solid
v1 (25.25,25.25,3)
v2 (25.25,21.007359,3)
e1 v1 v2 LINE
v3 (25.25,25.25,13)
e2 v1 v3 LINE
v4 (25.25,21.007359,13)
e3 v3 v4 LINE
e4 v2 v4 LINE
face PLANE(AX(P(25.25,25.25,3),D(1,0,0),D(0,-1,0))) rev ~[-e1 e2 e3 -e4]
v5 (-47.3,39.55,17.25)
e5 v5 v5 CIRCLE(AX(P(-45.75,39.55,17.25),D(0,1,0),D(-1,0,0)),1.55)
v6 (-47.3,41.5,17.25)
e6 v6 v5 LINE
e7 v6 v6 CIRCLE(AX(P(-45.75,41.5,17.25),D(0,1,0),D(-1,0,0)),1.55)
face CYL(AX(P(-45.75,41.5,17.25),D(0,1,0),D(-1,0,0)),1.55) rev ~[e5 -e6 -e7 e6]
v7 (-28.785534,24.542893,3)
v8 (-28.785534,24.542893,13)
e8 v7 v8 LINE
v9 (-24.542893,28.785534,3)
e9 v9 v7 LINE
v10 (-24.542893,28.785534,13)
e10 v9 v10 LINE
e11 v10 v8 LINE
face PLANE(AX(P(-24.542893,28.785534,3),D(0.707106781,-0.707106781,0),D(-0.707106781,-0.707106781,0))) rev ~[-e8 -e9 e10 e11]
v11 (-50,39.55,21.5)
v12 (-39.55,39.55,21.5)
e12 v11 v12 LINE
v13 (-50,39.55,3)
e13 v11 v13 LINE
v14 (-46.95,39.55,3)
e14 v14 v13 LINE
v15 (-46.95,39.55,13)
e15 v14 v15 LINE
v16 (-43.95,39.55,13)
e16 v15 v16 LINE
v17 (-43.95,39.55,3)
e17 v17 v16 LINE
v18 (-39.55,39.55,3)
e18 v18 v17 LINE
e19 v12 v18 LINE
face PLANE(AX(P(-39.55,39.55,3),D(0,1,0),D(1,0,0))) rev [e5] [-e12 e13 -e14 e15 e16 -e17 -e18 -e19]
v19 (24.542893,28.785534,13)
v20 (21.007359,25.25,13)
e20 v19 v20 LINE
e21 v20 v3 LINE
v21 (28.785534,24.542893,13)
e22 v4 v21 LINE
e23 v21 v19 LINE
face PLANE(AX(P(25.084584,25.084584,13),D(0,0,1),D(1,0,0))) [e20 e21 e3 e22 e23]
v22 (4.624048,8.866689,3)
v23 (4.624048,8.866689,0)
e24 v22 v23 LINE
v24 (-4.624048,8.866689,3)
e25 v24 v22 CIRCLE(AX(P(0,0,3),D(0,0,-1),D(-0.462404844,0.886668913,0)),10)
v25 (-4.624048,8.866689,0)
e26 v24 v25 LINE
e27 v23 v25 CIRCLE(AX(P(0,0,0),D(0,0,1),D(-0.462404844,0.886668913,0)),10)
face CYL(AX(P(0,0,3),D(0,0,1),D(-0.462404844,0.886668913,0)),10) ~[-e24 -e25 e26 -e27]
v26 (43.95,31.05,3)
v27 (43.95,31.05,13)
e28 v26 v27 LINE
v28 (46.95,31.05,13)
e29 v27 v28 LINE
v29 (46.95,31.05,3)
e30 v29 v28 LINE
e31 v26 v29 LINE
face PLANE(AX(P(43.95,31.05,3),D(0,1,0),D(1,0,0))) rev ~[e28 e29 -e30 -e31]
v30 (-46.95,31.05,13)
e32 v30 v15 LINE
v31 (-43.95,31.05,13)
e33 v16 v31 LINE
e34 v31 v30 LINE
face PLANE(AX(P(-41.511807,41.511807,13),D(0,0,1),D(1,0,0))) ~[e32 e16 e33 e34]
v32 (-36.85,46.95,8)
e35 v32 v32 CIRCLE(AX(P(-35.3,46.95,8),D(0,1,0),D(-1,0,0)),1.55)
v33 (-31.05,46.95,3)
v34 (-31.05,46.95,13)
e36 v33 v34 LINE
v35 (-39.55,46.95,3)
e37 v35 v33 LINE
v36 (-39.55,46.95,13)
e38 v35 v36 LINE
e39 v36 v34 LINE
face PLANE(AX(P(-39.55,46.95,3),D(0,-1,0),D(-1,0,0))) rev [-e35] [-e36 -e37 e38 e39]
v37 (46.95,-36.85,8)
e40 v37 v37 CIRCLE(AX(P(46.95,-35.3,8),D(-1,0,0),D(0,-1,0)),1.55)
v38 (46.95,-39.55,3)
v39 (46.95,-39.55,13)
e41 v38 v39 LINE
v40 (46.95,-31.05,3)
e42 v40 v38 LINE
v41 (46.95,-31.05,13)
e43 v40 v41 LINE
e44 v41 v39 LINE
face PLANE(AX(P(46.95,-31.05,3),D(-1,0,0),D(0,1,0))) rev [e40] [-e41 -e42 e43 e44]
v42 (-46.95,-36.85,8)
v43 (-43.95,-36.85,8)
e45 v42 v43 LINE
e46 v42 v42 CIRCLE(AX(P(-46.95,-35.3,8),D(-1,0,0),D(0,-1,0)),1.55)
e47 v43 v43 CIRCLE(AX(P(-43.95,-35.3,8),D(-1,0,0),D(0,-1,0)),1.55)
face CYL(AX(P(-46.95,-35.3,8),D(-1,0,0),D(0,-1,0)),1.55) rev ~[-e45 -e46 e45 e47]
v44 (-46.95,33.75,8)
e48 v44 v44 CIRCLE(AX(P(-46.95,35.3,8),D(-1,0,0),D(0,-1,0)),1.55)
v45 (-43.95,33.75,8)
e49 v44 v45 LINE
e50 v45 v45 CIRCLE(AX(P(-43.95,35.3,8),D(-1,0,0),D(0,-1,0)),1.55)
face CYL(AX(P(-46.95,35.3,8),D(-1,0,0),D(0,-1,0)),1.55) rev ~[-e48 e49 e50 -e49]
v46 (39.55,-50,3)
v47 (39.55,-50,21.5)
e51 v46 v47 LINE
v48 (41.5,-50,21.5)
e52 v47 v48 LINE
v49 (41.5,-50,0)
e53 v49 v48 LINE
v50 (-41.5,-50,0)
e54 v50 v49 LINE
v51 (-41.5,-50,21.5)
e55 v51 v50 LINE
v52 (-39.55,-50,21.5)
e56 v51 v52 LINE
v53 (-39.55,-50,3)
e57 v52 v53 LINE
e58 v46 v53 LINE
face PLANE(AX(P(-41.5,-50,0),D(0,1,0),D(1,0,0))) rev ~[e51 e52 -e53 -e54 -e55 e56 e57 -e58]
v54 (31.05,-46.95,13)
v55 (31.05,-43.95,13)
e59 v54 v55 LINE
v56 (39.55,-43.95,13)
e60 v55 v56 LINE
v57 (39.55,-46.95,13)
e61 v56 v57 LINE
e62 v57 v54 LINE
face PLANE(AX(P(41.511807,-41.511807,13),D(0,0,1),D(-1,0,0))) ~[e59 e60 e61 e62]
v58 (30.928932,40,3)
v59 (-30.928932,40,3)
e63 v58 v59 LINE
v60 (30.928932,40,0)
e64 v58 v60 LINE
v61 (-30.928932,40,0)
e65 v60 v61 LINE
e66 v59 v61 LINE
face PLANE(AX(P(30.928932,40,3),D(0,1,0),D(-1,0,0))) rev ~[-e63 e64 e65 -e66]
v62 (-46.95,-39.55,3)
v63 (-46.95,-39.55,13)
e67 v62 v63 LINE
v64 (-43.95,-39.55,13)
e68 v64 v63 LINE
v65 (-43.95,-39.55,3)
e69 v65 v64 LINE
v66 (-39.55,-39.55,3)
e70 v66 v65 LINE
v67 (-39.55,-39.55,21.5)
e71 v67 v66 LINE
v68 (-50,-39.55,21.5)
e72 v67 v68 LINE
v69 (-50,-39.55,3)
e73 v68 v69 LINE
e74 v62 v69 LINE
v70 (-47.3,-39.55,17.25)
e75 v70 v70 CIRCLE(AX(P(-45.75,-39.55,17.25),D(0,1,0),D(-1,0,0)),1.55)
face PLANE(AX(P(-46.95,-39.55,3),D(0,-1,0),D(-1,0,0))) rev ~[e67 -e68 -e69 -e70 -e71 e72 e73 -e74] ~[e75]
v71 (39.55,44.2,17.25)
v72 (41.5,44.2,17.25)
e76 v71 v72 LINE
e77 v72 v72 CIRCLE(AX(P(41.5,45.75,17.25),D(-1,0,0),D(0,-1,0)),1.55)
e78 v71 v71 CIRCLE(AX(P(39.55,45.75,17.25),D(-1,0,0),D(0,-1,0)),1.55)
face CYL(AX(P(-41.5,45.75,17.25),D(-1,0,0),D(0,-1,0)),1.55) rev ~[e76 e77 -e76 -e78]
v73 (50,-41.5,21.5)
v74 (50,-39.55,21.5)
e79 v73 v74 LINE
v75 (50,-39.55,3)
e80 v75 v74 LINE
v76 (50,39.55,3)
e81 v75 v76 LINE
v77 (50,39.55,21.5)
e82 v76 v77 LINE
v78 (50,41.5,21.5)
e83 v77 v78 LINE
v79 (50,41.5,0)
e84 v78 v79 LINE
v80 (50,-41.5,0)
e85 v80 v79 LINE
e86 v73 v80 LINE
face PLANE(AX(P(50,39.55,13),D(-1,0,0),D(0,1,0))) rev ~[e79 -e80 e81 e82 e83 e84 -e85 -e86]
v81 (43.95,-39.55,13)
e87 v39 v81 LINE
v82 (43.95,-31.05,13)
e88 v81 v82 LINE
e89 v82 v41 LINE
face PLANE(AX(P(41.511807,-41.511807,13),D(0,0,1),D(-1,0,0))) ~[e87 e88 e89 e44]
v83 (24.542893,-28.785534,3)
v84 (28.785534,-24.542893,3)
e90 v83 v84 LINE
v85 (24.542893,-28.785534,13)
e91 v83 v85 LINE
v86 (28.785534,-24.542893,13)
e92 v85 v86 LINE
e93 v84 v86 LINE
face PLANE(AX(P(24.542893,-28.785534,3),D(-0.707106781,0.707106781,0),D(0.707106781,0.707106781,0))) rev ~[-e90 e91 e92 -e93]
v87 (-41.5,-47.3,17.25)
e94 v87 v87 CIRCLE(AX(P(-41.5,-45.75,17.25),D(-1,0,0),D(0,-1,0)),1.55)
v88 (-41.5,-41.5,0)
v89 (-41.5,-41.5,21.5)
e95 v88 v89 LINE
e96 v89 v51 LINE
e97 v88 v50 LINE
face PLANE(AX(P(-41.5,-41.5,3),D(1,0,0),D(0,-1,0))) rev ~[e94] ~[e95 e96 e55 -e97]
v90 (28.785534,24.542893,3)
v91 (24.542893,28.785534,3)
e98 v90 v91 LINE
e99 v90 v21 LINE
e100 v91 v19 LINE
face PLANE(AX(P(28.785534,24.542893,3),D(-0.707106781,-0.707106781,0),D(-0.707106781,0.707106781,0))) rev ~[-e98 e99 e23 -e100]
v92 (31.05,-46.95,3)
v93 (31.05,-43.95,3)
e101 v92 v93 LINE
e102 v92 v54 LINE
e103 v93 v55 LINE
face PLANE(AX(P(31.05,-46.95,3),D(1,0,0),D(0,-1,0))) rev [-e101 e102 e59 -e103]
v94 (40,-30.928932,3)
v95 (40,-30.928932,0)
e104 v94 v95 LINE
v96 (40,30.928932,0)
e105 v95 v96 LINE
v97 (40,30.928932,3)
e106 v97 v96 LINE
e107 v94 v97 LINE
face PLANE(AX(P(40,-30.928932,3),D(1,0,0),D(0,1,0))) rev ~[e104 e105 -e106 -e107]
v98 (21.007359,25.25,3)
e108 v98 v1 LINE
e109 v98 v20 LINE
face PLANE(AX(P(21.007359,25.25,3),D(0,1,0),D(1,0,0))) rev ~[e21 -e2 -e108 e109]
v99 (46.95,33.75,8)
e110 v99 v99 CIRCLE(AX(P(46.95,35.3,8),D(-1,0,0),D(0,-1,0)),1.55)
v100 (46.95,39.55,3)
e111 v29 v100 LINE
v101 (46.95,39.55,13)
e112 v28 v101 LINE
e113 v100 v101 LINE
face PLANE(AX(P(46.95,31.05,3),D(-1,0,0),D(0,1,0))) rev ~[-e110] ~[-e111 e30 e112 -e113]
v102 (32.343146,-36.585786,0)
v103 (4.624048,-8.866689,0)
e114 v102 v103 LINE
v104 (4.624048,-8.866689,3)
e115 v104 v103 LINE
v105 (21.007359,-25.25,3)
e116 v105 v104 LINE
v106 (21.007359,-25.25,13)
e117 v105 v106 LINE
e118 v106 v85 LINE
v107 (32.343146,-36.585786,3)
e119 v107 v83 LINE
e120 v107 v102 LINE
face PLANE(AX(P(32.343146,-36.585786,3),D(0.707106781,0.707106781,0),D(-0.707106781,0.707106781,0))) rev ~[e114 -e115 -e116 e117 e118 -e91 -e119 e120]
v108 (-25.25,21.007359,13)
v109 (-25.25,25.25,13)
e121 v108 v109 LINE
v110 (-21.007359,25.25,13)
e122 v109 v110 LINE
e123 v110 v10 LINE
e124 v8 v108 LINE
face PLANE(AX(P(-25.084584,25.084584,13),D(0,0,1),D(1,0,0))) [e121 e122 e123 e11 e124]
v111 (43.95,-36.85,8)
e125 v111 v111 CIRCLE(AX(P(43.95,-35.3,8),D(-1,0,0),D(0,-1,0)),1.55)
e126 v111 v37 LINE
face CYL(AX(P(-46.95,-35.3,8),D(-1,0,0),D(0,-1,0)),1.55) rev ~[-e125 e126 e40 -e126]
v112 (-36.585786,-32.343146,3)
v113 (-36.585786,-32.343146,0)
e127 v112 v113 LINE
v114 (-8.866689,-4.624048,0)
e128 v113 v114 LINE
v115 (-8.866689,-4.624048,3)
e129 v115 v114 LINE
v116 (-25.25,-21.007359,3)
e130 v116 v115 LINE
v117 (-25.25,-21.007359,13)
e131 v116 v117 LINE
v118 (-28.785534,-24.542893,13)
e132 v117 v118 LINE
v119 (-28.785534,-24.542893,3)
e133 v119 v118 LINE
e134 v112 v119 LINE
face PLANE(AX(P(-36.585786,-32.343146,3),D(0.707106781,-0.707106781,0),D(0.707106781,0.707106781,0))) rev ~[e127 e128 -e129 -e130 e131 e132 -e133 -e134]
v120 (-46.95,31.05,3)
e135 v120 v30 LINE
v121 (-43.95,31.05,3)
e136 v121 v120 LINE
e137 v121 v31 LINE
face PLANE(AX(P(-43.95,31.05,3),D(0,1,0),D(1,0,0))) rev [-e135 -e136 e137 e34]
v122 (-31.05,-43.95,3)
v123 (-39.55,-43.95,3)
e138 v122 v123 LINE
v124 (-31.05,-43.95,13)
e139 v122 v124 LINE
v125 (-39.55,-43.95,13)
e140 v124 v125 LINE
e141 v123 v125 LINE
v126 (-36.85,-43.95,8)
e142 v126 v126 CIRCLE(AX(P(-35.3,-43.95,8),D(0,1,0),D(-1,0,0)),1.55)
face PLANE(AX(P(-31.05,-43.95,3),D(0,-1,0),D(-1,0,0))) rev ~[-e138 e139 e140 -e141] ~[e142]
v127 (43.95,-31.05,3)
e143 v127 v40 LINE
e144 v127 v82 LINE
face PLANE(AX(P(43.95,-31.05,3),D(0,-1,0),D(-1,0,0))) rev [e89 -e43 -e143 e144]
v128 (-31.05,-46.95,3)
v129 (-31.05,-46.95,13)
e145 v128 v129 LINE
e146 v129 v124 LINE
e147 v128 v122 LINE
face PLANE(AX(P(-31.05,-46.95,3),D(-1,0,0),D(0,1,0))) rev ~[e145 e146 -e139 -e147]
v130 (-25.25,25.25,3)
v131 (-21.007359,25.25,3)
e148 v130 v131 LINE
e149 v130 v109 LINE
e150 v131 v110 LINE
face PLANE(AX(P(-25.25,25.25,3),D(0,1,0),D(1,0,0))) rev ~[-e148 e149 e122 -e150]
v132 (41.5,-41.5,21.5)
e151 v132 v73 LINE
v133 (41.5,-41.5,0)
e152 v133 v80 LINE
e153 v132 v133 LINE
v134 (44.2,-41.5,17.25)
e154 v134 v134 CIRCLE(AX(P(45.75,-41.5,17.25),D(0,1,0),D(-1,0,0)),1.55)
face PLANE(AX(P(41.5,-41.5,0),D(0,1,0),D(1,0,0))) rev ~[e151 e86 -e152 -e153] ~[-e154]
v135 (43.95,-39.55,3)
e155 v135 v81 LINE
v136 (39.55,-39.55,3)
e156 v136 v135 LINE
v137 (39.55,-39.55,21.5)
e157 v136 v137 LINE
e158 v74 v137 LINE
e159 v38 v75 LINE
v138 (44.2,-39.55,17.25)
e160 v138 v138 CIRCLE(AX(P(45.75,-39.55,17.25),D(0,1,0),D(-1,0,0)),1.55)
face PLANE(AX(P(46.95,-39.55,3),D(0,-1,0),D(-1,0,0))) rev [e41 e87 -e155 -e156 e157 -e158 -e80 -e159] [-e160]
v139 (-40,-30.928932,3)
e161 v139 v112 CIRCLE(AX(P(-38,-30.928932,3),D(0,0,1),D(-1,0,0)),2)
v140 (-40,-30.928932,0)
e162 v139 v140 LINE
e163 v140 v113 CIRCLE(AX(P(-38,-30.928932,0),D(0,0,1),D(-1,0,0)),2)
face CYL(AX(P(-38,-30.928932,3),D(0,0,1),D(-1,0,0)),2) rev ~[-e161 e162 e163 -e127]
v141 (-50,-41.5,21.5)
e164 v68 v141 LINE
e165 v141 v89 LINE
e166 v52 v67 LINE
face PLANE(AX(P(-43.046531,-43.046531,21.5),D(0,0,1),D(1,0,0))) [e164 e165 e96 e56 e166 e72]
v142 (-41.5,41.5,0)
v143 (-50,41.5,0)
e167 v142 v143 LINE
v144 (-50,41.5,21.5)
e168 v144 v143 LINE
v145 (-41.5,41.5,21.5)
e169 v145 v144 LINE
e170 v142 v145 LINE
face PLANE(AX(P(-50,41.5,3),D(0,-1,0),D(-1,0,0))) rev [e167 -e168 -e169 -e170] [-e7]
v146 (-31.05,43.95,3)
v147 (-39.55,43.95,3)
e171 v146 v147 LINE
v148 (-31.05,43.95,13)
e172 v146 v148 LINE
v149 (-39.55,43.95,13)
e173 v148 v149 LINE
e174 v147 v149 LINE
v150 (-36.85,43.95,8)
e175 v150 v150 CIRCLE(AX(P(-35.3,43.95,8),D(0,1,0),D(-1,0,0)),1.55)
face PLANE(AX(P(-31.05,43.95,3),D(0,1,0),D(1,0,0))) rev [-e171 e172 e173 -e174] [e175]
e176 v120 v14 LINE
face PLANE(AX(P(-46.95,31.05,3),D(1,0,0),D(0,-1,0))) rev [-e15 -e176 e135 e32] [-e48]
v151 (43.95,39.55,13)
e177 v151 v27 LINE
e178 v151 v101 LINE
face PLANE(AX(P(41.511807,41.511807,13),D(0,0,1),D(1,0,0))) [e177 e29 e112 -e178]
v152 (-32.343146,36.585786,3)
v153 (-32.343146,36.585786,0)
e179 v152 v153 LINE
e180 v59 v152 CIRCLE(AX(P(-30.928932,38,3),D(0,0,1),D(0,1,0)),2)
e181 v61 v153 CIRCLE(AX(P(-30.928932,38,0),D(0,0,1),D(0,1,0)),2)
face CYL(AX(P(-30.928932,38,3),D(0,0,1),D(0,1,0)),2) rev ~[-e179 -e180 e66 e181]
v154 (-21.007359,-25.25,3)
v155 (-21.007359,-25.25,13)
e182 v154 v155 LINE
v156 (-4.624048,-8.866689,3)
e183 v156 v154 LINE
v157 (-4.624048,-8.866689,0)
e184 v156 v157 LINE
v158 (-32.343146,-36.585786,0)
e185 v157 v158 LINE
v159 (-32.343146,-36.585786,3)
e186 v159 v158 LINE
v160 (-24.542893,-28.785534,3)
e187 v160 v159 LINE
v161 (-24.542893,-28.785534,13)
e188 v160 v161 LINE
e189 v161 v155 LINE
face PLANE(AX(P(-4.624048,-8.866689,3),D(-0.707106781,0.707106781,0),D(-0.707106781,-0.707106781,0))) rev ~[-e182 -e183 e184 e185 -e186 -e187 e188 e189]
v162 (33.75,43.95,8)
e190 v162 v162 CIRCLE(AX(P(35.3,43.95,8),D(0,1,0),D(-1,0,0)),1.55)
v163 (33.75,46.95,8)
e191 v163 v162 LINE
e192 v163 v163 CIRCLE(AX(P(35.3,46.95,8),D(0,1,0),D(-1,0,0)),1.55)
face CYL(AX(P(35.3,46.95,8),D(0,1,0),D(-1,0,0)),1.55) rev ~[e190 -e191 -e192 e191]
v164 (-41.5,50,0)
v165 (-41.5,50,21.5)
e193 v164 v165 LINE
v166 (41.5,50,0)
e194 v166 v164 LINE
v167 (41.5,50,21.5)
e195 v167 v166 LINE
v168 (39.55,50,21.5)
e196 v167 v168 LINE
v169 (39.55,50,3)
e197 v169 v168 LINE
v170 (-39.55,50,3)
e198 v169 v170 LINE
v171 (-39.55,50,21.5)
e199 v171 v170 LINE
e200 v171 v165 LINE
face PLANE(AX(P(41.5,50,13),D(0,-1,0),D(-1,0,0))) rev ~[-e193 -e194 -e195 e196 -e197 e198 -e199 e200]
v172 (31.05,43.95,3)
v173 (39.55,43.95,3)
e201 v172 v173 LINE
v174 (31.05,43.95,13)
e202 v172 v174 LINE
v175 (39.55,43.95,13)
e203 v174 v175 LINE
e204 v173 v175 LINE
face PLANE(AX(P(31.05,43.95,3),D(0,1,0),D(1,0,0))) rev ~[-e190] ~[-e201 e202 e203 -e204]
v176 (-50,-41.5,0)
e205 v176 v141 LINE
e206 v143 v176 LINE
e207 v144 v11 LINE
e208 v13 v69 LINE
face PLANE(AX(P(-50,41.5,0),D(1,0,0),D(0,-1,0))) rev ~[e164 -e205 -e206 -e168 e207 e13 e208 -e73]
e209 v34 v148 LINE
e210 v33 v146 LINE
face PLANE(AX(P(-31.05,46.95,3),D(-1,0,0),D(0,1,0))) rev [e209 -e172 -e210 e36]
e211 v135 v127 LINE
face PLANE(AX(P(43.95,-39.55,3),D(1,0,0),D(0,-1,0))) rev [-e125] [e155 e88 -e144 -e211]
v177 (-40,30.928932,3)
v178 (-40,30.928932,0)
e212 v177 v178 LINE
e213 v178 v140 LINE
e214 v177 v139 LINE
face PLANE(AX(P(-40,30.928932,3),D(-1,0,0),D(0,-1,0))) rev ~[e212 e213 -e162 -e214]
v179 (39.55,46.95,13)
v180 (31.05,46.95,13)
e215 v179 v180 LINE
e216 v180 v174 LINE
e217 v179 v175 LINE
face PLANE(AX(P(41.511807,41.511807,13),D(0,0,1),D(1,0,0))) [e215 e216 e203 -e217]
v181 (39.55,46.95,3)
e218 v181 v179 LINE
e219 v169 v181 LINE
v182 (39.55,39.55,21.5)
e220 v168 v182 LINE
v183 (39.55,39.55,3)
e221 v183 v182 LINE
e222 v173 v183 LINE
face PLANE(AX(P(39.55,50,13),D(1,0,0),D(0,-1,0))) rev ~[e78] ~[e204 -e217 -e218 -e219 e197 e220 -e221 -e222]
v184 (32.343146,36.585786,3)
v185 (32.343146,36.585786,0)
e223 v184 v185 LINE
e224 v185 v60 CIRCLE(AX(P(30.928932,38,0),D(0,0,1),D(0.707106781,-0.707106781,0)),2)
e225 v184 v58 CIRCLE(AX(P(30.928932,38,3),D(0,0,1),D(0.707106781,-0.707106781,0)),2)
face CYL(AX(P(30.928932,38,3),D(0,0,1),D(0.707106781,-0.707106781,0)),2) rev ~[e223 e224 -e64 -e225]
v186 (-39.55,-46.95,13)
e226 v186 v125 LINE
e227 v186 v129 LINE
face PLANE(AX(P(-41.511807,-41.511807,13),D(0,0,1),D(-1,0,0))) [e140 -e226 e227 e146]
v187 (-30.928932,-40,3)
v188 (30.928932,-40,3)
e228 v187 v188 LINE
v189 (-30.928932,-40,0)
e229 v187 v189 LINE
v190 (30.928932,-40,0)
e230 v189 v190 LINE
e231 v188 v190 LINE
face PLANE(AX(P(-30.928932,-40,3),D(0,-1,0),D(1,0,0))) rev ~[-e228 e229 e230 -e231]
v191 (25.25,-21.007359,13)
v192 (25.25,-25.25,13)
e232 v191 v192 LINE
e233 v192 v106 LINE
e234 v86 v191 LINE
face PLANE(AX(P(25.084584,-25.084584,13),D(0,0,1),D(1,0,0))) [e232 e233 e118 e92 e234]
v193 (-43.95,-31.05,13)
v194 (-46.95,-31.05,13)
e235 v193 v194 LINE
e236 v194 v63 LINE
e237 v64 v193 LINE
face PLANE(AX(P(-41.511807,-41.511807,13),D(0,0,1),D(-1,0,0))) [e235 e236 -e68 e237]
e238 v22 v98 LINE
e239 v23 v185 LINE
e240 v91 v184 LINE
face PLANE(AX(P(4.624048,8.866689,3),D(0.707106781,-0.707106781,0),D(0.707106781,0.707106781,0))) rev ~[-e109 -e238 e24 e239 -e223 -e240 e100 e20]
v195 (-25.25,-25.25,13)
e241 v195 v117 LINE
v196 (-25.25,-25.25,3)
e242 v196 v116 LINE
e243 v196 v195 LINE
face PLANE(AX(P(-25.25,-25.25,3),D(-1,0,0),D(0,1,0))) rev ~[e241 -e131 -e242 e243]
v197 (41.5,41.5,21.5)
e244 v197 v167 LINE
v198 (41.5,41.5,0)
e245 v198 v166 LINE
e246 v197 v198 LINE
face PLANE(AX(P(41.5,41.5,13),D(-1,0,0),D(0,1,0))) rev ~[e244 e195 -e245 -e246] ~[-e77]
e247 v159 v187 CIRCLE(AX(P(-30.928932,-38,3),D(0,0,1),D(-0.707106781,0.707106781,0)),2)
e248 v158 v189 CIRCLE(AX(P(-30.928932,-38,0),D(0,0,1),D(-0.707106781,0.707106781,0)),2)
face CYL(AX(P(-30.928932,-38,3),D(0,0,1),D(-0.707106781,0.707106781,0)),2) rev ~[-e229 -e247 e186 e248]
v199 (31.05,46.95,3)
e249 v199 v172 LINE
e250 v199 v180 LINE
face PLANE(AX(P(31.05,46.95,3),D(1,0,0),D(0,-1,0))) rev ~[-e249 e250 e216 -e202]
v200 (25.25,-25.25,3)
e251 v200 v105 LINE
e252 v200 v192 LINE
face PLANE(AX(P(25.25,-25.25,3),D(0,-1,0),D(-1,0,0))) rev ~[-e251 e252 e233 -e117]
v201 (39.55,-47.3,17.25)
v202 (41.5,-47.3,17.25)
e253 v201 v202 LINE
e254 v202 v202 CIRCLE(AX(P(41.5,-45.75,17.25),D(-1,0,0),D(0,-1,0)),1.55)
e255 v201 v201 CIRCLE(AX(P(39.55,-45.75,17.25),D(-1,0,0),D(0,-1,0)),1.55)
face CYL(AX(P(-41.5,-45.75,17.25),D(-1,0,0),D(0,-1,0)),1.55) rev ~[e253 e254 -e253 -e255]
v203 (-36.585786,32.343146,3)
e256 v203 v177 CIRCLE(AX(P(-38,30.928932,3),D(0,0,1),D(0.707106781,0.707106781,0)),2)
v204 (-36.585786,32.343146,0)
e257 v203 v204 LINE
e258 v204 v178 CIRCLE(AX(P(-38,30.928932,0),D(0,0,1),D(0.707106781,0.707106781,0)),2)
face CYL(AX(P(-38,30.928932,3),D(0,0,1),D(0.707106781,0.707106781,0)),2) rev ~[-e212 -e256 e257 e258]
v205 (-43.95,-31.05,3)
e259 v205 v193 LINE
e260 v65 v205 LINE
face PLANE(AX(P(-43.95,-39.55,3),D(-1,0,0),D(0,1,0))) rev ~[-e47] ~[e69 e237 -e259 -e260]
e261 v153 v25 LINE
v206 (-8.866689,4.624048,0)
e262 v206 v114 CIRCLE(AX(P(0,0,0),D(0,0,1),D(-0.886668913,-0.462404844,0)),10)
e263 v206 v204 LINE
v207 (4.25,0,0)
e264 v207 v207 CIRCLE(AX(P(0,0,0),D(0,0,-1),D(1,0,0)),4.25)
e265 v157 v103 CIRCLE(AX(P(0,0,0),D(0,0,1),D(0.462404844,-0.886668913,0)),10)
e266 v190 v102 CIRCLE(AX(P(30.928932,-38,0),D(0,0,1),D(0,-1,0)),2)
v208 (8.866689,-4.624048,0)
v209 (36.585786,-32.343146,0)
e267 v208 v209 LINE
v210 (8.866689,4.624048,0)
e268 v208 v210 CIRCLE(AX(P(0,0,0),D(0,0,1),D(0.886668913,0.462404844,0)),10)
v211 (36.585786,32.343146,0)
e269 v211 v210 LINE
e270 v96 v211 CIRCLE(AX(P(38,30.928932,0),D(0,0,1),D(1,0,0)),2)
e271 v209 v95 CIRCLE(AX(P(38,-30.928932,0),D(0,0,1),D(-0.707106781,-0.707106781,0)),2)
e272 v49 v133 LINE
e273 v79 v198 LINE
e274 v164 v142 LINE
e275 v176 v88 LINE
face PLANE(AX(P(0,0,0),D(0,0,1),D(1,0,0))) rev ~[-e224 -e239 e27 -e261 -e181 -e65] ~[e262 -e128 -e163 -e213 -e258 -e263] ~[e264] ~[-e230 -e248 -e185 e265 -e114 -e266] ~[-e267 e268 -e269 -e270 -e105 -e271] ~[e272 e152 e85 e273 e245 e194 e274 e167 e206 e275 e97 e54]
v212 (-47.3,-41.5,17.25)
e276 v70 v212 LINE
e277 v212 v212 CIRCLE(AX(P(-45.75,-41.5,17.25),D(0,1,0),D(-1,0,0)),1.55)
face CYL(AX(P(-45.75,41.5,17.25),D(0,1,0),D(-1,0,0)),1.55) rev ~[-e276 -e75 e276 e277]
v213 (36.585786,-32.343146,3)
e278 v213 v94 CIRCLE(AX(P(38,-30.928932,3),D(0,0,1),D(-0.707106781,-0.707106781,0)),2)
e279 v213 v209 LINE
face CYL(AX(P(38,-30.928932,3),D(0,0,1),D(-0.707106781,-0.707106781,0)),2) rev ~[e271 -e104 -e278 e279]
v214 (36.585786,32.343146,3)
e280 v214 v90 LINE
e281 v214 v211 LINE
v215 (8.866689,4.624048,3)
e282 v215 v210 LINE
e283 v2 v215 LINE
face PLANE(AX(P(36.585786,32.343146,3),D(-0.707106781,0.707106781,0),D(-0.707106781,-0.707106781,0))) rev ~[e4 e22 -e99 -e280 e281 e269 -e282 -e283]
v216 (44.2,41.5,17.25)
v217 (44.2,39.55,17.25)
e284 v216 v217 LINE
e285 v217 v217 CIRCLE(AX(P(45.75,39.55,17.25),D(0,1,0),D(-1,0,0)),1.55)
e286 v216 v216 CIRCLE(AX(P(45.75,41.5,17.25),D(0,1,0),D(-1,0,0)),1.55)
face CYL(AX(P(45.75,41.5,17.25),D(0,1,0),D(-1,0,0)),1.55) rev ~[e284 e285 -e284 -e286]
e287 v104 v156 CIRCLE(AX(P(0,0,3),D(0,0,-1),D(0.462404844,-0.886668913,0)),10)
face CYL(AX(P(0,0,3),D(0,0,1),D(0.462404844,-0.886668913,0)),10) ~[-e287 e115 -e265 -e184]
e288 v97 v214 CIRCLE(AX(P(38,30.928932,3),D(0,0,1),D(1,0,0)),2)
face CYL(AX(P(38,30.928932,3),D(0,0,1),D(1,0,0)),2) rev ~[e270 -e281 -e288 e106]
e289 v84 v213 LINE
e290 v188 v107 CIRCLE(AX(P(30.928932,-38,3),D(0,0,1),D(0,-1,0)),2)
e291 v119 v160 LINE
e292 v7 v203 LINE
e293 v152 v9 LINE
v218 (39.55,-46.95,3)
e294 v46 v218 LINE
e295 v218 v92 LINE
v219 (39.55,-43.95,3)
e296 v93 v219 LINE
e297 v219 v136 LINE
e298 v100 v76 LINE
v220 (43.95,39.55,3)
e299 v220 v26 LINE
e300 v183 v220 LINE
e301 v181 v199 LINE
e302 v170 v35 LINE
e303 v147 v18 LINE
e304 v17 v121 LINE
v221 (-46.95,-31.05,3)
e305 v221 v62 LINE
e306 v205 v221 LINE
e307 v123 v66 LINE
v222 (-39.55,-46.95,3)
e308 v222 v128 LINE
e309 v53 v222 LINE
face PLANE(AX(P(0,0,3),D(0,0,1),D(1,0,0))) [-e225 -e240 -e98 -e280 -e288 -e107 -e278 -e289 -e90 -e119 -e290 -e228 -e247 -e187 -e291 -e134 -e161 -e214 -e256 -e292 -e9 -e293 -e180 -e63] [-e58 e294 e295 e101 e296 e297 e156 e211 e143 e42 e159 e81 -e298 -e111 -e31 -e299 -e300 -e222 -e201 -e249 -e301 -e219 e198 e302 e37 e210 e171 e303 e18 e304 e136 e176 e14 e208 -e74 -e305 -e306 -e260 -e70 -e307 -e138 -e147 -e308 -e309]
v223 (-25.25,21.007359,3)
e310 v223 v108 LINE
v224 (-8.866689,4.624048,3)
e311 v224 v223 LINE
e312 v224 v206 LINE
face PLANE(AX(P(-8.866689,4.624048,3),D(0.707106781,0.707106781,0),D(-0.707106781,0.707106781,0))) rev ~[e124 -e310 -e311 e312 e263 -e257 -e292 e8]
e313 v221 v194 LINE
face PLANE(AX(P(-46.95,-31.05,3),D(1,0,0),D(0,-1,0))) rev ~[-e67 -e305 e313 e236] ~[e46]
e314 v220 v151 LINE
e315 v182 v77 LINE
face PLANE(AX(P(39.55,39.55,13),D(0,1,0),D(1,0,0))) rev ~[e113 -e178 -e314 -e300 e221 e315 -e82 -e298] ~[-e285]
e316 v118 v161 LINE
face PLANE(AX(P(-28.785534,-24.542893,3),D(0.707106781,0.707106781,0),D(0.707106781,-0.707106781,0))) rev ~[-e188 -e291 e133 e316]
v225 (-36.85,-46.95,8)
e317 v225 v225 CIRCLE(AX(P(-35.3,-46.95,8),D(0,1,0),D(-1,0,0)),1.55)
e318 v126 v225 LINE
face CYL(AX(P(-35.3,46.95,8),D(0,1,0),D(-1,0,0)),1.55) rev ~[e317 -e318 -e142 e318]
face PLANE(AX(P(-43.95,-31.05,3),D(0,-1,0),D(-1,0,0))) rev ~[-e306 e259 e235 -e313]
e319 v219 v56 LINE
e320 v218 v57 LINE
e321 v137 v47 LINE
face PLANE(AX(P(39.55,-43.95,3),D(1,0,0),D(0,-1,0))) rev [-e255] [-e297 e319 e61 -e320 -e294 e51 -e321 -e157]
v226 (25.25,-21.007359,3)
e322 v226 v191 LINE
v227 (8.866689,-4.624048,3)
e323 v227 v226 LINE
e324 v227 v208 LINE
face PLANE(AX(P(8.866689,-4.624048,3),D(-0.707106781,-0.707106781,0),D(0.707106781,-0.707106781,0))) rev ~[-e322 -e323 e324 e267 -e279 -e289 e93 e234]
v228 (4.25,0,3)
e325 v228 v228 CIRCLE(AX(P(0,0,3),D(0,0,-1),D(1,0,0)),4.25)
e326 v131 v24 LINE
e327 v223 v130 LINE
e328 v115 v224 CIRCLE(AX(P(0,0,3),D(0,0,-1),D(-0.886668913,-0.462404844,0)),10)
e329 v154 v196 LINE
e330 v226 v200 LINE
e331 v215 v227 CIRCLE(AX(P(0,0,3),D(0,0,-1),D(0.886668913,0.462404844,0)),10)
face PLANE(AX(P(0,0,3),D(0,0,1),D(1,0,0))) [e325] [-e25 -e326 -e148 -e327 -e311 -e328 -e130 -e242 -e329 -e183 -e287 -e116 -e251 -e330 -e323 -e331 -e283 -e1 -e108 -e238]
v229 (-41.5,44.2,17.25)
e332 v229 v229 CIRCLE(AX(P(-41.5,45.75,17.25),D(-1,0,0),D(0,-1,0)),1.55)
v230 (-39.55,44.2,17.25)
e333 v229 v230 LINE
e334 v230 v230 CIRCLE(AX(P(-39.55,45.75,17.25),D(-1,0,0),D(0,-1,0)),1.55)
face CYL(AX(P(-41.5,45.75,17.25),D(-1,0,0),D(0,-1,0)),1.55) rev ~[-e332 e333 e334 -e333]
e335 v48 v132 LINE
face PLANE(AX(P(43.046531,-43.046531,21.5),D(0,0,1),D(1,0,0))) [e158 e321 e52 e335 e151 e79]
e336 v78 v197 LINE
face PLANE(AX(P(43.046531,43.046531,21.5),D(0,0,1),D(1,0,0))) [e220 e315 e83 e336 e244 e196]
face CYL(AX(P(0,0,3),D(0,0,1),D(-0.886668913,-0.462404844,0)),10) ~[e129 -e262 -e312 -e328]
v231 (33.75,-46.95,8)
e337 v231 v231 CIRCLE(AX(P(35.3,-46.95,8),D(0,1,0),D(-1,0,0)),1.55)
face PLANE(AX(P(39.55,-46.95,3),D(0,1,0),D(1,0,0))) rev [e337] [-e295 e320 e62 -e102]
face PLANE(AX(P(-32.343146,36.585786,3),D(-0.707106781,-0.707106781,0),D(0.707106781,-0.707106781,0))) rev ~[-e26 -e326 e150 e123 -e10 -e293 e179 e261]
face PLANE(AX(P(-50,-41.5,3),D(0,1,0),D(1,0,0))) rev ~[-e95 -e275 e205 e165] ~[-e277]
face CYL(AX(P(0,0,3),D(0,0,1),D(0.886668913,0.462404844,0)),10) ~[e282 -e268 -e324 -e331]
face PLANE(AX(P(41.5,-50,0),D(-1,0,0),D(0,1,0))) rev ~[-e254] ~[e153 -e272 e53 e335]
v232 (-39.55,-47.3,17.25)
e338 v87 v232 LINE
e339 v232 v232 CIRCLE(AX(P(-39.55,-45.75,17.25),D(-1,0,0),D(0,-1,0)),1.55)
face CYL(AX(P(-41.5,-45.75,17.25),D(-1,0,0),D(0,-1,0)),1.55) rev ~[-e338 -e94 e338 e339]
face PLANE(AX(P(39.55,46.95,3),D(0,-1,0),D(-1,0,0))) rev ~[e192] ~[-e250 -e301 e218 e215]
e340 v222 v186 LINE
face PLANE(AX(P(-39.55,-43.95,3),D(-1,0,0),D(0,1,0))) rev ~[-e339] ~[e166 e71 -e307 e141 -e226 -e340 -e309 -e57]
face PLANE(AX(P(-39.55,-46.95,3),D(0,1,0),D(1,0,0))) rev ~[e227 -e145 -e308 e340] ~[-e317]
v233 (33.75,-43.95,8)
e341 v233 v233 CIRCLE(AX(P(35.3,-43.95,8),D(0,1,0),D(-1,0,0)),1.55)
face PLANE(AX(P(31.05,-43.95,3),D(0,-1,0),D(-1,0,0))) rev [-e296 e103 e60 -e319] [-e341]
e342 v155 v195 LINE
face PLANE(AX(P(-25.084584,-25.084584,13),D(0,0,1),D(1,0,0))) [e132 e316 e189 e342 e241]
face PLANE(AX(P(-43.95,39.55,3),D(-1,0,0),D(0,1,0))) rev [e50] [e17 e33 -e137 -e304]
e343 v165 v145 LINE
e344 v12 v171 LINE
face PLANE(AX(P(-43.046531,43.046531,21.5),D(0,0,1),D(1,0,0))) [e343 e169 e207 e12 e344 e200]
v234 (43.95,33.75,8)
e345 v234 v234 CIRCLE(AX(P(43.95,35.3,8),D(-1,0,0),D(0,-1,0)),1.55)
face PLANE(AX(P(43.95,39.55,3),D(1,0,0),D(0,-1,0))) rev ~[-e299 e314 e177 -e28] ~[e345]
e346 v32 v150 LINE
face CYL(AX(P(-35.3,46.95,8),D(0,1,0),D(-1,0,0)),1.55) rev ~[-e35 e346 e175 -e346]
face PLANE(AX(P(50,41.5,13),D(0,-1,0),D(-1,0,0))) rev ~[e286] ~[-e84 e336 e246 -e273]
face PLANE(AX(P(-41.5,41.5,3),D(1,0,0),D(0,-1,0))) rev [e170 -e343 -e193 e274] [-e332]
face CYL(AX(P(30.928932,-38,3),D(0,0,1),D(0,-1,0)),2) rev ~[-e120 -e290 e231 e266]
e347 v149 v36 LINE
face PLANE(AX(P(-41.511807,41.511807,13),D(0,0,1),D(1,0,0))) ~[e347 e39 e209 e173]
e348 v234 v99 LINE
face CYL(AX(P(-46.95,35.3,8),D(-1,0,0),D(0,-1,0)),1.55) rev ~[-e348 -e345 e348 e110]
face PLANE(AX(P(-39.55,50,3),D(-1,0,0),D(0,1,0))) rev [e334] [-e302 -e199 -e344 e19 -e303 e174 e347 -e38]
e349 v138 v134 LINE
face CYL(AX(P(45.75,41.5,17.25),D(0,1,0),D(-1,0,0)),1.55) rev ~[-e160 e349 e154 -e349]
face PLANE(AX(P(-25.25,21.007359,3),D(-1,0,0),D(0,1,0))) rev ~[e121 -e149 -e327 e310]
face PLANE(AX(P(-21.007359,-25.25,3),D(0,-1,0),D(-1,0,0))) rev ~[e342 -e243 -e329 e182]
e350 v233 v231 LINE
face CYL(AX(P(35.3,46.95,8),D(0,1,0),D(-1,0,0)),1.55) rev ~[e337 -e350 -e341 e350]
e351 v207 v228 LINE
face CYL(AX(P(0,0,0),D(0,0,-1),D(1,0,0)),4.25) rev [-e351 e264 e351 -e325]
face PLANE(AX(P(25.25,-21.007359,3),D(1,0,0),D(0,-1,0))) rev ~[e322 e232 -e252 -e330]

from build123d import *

# Parameters (mm, degrees)
F1_R      = 4.25
F2_DEPTH  = 3
F4_DEPTH  = 10
F8_DEPTH  = 3.001
F10_DEPTH = 8.5
F11_R     = 1.55
F12_DEPTH = 91.501
F13_R     = 1.55
F14_DEPTH = 91.501
F15_R     = 1.55
F16_DEPTH = 96.951
F17_R     = 1.55
F18_DEPTH = 96.951
F20_DEPTH = 10


with BuildPart() as f2:
    # F1 (on Top) → F2 (new body)
    with BuildSketch(Plane.XY):
        Polygon((41.5, 41.5), (41.5, 50), (-41.5, 50), (-41.5, 41.5), (-50, 41.5), (-50, -41.5), (-41.5, -41.5), (-41.5, -50), (41.5, -50), (41.5, -41.5), (50, -41.5), (50, 41.5), align=None)
        Circle(F1_R, mode=Mode.SUBTRACT)
    extrude(amount=F2_DEPTH)

    # F3 (on face) → F4 (join)
    with BuildSketch(Plane.XY.offset(3)):
        Polygon((31.05, 43.95), (39.55, 43.95), (39.55, 39.55), (43.95, 39.55), (43.95, 31.05), (46.95, 31.05), (46.95, 39.55), (50, 39.55), (50, 41.5), (41.5, 41.5), (41.5, 50), (39.55, 50), (39.55, 46.95), (31.05, 46.95), align=None)
    extrude(amount=F4_DEPTH)

    # F5: F2 across plane


with BuildPart() as f2_1:
    add(f2.part)
    add(f2.part.mirror(Plane.YZ))

    # F6: F2 across plane


with BuildPart() as f2_2:
    add(f2_1.part)
    add(f2_1.part.mirror(Plane.XZ))

    # F7 (on face) → F8 (cut, through all)
    with BuildSketch(Plane.XY.offset(3)):
        with BuildLine():
            ThreePointArc((-36.5857864376, 32.3431457505), (-38.7653668647, 32.7766912532), (-40, 30.9289321881))
            Line((-40, 30.9289321881), (-40, -30.9289321881))
            ThreePointArc((-40, -30.9289321881), (-38.7653668647, -32.7766912532), (-36.5857864376, -32.3431457505))
            Line((-36.5857864376, -32.3431457505), (-8.8666891252, -4.6240484381))
            ThreePointArc((-8.8666891252, -4.6240484381), (-10, 0), (-8.8666891252, 4.6240484381))
            Line((-8.8666891252, 4.6240484381), (-36.5857864376, 32.3431457505))
        make_face()
        with BuildLine():
            Line((30.9289321881, 40), (-30.9289321881, 40))
            ThreePointArc((-30.9289321881, 40), (-32.7766912532, 38.7653668647), (-32.3431457505, 36.5857864376))
            Line((-32.3431457505, 36.5857864376), (-4.6240484381, 8.8666891252))
            ThreePointArc((-4.6240484381, 8.8666891252), (0, 10), (4.6240484381, 8.8666891252))
            Line((4.6240484381, 8.8666891252), (32.3431457505, 36.5857864376))
            ThreePointArc((32.3431457505, 36.5857864376), (32.7766912532, 38.7653668647), (30.9289321881, 40))
        make_face()
        with BuildLine():
            Line((40, -30.9289321881), (40, 30.9289321881))
            ThreePointArc((40, 30.9289321881), (38.7653668647, 32.7766912532), (36.5857864376, 32.3431457505))
            Line((36.5857864376, 32.3431457505), (8.8666891252, 4.6240484381))
            ThreePointArc((8.8666891252, 4.6240484381), (10, 0), (8.8666891252, -4.6240484381))
            Line((8.8666891252, -4.6240484381), (36.5857864376, -32.3431457505))
            ThreePointArc((36.5857864376, -32.3431457505), (38.7653668647, -32.7766912532), (40, -30.9289321881))
        make_face()
        with BuildLine():
            ThreePointArc((-32.3431457505, -36.5857864376), (-32.7766912532, -38.7653668647), (-30.9289321881, -40))
            Line((-30.9289321881, -40), (30.9289321881, -40))
            ThreePointArc((30.9289321881, -40), (32.7766912532, -38.7653668647), (32.3431457505, -36.5857864376))
            Line((32.3431457505, -36.5857864376), (4.6240484381, -8.8666891252))
            ThreePointArc((4.6240484381, -8.8666891252), (0, -10), (-4.6240484381, -8.8666891252))
            Line((-4.6240484381, -8.8666891252), (-32.3431457505, -36.5857864376))
        make_face()
    extrude(amount=-F8_DEPTH, mode=Mode.SUBTRACT)

    # F9 (on face) → F10 (join)
    with BuildSketch(Plane.XY.offset(13)):
        Polygon((41.5, 50), (39.55, 50), (39.55, 39.55), (50, 39.55), (50, 41.5), (41.5, 41.5), align=None)
        Polygon((-41.5, 41.5), (-50, 41.5), (-50, 39.55), (-39.55, 39.55), (-39.55, 50), (-41.5, 50), align=None)
        Polygon((39.55, -39.55), (39.55, -50), (41.5, -50), (41.5, -41.5), (50, -41.5), (50, -39.55), align=None)
        Polygon((-41.5, -50), (-39.55, -50), (-39.55, -39.55), (-50, -39.55), (-50, -41.5), (-41.5, -41.5), align=None)
    extrude(amount=F10_DEPTH)

    # F11 (on face) → F12 (cut, through all)
    with BuildSketch(Plane(origin=(-41.5, 0, 0), x_dir=(0, -1, 0), z_dir=(-1, 0, 0))):
        with Locations((45.75, 17.25)):
            Circle(F11_R)
        with Locations((-45.75, 17.25)):
            Circle(F11_R)
    extrude(amount=-F12_DEPTH, mode=Mode.SUBTRACT)

    # F13 (on face) → F14 (cut, through all)
    with BuildSketch(Plane(origin=(0, 41.5, 0), x_dir=(-1, 0, 0), z_dir=(0, 1, 0))):
        with Locations((45.75, 17.25)):
            Circle(F13_R)
        with Locations((-45.75, 17.25)):
            Circle(F13_R)
    extrude(amount=-F14_DEPTH, mode=Mode.SUBTRACT)

    # F15 (on face) → F16 (cut, through all)
    with BuildSketch(Plane(origin=(-46.95, 0, 0), x_dir=(0, -1, 0), z_dir=(-1, 0, 0))):
        with Locations((-35.3, 8)):
            Circle(F15_R)
        with Locations((35.3, 8)):
            Circle(F15_R)
    extrude(amount=-F16_DEPTH, mode=Mode.SUBTRACT)

    # F17 (on face) → F18 (cut, through all)
    with BuildSketch(Plane(origin=(0, 46.95, 0), x_dir=(-1, 0, 0), z_dir=(0, 1, 0))):
        with Locations((-35.3, 8)):
            Circle(F17_R)
        with Locations((35.3, 8)):
            Circle(F17_R)
    extrude(amount=-F18_DEPTH, mode=Mode.SUBTRACT)

    # F19 (on face) → F20 (join)
    with BuildSketch(Plane.XY.offset(3)):
        Polygon((21.0073593129, 25.25), (25.25, 25.25), (25.25, 21.0073593129), (28.7855339059, 24.5428932188), (24.5428932188, 28.7855339059), align=None)
        Polygon((-25.25, 21.0073593129), (-25.25, 25.25), (-21.0073593129, 25.25), (-24.5428932188, 28.7855339059), (-28.7855339059, 24.5428932188), align=None)
        Polygon((-21.0073593129, -25.25), (-25.25, -25.25), (-25.25, -21.0073593129), (-28.7855339059, -24.5428932188), (-24.5428932188, -28.7855339059), align=None)
        Polygon((25.25, -21.0073593129), (25.25, -25.25), (21.0073593129, -25.25), (24.5428932188, -28.7855339059), (28.7855339059, -24.5428932188), align=None)
    extrude(amount=F20_DEPTH)


solid = f2_2.part
